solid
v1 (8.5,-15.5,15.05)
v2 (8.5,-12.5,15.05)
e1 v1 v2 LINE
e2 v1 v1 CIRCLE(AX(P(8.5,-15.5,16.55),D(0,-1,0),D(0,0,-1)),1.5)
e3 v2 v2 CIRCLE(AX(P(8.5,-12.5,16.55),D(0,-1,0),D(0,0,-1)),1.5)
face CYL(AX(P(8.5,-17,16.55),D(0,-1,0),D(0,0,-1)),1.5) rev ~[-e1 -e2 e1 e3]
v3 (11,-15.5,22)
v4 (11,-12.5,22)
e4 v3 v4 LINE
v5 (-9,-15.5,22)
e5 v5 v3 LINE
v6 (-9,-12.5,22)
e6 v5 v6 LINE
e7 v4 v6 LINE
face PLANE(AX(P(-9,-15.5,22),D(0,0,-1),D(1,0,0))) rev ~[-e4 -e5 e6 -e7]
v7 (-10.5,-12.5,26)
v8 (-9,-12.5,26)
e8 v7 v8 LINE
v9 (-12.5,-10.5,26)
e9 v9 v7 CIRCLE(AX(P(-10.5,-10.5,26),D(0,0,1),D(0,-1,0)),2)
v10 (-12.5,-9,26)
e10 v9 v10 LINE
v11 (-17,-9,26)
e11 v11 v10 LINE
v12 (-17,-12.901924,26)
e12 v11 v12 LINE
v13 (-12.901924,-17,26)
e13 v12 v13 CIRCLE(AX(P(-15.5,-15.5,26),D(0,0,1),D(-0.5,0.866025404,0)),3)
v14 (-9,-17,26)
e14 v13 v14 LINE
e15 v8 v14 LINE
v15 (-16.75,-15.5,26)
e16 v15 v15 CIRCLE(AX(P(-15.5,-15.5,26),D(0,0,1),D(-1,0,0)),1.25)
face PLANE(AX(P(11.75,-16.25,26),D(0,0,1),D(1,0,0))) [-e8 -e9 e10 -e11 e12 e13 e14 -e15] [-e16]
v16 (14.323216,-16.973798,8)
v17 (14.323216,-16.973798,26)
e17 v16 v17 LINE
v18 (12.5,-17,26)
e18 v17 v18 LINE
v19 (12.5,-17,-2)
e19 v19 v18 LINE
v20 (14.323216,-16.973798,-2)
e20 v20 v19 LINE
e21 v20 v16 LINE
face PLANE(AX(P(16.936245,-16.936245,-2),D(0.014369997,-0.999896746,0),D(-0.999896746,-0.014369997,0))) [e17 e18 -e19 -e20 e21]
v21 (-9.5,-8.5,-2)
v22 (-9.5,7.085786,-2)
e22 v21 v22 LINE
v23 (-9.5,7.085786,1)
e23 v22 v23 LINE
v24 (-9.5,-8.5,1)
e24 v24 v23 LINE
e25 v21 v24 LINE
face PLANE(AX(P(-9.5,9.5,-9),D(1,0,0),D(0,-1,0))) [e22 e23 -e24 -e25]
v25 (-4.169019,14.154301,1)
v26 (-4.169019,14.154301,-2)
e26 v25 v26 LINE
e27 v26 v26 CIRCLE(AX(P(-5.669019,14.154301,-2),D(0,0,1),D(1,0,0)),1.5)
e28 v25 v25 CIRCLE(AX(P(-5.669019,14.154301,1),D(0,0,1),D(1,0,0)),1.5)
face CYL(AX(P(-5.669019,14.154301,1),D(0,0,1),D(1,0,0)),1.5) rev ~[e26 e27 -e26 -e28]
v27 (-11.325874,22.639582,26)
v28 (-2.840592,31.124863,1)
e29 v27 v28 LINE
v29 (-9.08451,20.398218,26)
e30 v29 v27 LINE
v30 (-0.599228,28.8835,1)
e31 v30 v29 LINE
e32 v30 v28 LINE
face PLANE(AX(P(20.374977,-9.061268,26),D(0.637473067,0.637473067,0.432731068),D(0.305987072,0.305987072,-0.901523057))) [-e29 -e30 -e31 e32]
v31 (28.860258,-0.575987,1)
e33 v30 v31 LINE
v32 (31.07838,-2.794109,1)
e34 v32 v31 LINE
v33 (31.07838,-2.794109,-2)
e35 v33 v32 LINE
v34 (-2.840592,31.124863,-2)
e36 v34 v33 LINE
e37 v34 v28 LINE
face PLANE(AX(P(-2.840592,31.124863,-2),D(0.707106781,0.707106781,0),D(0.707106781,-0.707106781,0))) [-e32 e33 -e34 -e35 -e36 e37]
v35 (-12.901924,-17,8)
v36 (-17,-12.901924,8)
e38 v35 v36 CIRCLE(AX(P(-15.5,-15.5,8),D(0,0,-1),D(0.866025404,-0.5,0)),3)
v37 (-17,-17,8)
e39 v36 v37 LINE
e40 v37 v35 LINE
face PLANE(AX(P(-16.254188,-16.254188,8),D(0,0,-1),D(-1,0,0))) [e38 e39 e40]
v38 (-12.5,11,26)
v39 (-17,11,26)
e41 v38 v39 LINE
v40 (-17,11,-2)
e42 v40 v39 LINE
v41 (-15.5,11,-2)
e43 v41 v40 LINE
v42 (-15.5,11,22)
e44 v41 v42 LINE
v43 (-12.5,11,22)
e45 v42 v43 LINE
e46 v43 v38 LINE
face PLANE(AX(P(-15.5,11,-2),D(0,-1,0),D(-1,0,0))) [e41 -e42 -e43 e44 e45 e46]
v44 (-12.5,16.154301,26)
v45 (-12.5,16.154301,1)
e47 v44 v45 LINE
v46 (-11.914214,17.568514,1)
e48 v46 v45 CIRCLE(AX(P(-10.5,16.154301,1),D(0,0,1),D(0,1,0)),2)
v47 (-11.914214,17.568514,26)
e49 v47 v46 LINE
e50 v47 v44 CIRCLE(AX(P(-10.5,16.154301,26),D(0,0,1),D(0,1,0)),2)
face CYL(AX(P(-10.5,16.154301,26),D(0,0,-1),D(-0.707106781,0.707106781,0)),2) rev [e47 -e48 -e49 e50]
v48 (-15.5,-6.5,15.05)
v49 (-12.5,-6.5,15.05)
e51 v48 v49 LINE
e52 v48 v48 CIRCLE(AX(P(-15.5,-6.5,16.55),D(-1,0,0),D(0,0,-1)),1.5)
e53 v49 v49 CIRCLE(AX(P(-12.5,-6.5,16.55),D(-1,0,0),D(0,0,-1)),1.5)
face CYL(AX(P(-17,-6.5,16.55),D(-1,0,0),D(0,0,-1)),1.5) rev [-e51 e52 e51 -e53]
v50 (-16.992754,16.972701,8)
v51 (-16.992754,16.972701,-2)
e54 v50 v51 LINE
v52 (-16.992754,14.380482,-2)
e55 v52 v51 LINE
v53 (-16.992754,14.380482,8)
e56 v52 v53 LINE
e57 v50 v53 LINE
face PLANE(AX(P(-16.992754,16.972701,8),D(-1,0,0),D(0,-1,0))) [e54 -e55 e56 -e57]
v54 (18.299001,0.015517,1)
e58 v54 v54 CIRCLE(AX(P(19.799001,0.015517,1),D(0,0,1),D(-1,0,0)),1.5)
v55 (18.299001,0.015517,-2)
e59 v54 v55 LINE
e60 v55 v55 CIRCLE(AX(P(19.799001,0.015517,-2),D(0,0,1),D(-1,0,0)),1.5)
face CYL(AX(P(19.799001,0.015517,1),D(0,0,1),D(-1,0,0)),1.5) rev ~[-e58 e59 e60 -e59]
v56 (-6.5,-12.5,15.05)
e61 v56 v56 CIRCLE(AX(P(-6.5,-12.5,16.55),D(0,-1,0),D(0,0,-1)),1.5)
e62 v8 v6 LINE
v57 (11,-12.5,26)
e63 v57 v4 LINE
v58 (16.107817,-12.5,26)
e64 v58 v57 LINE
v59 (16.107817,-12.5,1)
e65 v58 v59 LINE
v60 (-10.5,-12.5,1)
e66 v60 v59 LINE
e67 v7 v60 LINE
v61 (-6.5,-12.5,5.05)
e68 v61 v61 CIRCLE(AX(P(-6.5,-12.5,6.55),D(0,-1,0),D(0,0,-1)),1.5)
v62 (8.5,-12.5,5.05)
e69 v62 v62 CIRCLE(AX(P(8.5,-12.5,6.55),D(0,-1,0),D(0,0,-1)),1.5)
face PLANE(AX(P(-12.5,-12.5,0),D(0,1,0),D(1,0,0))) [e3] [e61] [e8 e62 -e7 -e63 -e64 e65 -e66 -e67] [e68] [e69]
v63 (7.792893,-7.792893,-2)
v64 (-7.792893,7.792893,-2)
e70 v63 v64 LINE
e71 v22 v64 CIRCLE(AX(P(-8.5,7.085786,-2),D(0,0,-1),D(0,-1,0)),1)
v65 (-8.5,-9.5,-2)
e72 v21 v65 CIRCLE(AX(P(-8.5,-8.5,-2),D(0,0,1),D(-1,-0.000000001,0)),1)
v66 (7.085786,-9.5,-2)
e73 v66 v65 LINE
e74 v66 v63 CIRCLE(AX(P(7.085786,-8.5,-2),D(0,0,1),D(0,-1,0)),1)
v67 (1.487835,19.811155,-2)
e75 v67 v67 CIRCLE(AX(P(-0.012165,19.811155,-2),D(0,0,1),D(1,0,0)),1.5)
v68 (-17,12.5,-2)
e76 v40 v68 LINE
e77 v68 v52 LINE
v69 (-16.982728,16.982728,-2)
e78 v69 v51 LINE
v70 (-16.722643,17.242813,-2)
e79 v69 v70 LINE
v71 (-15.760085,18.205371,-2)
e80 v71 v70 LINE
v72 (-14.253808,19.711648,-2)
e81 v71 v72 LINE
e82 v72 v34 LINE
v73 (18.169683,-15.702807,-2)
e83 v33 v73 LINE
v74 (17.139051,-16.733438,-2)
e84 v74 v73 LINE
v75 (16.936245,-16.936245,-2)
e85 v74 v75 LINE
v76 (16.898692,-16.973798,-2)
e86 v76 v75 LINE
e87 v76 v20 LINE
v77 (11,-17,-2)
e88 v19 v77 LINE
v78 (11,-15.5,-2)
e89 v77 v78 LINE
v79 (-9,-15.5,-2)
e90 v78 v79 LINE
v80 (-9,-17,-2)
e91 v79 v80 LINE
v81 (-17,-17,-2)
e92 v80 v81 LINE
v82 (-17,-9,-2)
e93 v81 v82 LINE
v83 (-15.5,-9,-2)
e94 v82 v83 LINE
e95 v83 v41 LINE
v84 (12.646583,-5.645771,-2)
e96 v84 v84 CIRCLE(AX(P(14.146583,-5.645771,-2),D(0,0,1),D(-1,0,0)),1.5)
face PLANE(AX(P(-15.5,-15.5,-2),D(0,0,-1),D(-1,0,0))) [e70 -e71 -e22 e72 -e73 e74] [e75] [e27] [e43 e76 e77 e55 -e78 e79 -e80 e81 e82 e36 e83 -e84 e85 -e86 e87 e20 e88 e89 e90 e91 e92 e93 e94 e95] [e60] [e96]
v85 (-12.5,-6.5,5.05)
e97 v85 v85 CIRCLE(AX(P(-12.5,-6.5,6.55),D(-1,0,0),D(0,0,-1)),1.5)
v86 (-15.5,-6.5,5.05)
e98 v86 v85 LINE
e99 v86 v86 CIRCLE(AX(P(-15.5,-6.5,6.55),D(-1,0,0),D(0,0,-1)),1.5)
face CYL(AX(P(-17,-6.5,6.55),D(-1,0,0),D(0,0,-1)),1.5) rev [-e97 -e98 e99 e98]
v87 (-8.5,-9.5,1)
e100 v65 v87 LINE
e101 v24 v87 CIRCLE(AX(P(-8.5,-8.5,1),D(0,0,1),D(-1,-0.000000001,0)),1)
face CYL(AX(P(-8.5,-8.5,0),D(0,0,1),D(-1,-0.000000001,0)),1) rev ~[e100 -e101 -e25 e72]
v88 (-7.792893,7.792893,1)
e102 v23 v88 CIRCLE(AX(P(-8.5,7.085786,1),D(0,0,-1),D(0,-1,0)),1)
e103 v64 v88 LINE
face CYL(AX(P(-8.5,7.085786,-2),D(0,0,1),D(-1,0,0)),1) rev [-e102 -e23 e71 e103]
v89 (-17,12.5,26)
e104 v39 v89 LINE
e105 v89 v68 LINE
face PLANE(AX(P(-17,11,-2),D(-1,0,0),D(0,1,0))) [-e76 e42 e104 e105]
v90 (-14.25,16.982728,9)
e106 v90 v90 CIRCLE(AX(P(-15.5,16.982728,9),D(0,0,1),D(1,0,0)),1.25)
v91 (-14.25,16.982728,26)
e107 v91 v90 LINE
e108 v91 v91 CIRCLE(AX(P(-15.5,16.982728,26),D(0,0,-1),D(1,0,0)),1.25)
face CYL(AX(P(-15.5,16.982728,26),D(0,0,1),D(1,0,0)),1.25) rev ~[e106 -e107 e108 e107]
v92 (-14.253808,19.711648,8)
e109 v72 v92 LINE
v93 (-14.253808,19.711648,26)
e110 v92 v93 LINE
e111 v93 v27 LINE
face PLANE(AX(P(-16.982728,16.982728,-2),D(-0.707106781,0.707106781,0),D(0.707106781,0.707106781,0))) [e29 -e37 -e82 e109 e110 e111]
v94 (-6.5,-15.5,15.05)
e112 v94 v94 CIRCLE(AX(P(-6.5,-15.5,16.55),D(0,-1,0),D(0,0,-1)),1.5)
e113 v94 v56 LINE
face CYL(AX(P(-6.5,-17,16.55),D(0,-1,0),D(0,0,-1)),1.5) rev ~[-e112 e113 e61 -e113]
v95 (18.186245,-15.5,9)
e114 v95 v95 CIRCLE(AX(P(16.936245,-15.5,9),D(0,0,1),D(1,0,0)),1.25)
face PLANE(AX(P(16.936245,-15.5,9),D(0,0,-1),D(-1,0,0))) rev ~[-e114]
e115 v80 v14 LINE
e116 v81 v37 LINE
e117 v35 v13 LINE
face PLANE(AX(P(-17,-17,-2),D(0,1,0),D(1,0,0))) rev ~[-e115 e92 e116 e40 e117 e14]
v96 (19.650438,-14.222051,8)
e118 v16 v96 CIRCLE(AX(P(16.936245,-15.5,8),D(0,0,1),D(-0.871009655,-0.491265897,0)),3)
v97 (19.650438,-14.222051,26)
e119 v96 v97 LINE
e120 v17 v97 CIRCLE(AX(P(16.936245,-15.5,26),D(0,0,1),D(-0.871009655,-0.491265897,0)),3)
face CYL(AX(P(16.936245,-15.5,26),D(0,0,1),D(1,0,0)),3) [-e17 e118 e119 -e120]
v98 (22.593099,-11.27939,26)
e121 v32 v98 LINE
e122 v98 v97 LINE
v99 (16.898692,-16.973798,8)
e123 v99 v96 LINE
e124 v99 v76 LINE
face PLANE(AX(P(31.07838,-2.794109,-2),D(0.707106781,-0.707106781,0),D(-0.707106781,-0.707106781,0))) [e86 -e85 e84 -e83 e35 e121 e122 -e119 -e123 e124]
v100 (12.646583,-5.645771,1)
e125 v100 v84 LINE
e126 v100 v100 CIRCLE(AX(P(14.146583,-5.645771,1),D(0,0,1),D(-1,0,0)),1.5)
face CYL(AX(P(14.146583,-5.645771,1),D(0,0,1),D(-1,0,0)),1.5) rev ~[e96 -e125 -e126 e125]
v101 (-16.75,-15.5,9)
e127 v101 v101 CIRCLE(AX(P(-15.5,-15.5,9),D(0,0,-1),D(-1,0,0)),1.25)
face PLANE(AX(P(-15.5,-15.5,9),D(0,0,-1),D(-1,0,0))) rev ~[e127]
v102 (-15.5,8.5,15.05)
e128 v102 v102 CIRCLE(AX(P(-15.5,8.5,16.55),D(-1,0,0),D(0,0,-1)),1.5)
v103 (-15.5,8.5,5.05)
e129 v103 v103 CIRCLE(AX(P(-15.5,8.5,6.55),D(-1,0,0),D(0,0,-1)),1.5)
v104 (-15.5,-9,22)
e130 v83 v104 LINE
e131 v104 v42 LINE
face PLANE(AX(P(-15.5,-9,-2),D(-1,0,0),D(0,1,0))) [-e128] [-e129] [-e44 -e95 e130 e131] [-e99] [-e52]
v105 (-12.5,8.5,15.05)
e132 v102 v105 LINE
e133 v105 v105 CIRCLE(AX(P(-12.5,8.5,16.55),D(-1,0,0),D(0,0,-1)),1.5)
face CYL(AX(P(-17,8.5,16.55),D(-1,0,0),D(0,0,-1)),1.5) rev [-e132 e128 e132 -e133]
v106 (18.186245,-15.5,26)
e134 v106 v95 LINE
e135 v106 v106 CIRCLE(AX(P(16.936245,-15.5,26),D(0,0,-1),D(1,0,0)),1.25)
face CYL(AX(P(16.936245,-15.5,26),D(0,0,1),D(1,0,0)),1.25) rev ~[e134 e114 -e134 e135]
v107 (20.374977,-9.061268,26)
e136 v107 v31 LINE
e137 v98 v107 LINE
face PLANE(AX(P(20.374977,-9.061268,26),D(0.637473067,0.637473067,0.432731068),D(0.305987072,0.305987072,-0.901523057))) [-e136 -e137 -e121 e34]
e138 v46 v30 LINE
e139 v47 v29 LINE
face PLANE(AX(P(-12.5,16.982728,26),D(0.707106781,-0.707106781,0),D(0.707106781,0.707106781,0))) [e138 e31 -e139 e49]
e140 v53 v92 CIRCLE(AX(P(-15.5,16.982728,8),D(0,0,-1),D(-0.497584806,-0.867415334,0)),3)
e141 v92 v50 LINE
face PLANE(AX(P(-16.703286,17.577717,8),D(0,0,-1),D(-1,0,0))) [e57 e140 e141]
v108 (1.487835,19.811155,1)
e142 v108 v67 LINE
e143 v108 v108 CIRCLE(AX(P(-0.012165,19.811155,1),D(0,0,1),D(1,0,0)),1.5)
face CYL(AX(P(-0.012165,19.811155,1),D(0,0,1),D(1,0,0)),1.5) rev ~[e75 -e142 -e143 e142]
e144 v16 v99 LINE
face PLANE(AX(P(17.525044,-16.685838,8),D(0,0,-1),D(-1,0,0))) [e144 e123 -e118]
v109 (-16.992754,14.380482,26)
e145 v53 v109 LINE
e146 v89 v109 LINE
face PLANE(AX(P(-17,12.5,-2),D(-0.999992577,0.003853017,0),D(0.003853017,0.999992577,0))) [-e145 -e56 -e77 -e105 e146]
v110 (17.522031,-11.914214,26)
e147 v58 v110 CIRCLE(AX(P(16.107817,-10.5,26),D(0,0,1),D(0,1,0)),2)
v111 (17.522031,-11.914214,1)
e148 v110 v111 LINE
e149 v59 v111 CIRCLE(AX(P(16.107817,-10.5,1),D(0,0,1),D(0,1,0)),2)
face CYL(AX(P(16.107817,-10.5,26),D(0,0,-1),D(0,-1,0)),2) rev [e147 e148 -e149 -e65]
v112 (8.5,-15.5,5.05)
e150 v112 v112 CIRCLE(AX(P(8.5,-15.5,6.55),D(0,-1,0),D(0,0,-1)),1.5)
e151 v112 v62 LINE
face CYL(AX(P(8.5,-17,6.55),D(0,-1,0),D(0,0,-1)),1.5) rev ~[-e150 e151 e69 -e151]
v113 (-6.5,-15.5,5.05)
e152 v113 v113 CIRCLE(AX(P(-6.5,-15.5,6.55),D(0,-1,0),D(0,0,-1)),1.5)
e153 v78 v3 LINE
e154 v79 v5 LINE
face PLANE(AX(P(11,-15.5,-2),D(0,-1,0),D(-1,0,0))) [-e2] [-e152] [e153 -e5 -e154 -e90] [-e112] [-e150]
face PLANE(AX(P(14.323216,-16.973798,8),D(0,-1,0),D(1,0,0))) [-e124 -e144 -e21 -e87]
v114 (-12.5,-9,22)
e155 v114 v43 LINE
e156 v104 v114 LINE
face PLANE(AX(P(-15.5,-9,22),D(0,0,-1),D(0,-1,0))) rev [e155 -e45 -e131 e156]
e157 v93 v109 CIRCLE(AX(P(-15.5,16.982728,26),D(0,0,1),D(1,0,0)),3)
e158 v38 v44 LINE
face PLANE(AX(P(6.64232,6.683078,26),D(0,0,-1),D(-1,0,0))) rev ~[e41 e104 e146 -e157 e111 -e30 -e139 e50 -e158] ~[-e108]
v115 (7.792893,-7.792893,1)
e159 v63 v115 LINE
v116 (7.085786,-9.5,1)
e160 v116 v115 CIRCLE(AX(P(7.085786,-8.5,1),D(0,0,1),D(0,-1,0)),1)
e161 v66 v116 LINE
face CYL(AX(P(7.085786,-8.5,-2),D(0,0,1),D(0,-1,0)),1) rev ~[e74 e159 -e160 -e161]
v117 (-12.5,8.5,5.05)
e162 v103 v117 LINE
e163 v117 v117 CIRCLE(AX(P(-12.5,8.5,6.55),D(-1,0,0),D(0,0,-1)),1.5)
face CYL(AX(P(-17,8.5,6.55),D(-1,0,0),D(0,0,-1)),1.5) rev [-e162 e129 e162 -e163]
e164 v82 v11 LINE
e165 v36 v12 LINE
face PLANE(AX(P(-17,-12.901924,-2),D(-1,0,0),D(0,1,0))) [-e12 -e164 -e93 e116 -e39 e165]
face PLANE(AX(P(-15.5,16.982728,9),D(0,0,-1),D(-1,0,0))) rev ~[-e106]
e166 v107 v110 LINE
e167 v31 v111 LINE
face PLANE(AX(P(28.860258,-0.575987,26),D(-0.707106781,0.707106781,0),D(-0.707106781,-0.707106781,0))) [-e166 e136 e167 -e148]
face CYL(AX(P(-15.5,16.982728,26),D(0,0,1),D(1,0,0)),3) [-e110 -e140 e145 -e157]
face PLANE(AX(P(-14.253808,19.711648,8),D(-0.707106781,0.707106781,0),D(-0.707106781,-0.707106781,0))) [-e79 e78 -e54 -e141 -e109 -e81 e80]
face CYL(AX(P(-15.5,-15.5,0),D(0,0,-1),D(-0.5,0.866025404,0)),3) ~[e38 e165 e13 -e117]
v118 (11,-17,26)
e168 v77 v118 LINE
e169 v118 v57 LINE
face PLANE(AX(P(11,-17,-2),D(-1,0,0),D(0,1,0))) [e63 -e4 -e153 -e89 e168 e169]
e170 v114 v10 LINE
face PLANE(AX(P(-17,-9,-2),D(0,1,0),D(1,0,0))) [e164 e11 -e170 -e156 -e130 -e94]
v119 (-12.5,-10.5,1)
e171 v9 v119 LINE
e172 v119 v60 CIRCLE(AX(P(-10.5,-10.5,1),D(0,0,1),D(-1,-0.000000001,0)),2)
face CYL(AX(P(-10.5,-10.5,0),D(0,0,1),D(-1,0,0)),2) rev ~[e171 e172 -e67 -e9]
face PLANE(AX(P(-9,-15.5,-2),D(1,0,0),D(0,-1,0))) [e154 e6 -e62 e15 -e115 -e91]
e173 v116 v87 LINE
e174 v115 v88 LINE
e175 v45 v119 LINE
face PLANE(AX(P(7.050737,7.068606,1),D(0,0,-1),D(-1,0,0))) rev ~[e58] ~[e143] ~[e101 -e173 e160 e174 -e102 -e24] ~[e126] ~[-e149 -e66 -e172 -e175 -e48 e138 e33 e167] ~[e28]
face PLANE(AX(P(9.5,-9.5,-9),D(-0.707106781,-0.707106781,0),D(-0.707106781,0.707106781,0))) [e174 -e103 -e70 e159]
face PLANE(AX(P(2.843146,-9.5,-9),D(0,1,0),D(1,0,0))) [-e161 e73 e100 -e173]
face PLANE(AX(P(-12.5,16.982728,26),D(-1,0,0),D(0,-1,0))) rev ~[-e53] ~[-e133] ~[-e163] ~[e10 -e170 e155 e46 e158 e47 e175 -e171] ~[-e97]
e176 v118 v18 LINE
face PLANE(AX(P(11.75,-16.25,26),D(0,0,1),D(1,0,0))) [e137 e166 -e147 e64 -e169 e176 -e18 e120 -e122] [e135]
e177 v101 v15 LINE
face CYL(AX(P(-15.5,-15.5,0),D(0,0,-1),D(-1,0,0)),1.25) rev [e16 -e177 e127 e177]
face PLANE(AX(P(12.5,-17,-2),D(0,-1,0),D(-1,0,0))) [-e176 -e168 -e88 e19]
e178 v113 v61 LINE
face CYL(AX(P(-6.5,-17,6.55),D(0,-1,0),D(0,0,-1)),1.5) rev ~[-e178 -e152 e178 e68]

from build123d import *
from build123d.topology import SkipClean

# Parameters (mm, degrees)
SKETCH_1_R                = 1.5
SKETCH_1_R_2              = 1.25
SKETCH_1_W                = 25
SKETCH_1_H                = 25
EXTRUDE_1_DEPTH           = 26
FILLET_1_R                = 3
FILLET_3_R                = 1
SKETCH_3_W                = 1.5
SKETCH_3_H                = 1.5
CUT_EXTRUDE_2_DEPTH       = 37.884956283
SKETCH_4_W                = 1.5
SKETCH_4_H                = 1.5
EXTRUDE_2_DEPTH           = 26
CUT_EXTRUDE_3_DEPTH       = 37.884956283
FILLET_4_R                = 3
SKETCH_9_R                = 1.5
CUT_EXTRUDE_6_DEPTH       = 10
SKETCH_10_R               = 3
CUT_EXTRUDE_7_DEPTH       = 10
CUT_EXTRUDE_9_DEPTH       = 37.884956283
SKETCH_13_W               = 4.17784283
SKETCH_13_H               = 6.481383992
SKETCH_13_W_2             = 7.357798492
SKETCH_13_H_2             = 3.821610345
CUT_EXTRUDE_10_DEPTH      = 37.884956283
FILLET_6_R                = 2
EXTRUDE_START             = -22
EXTRUDE_5_DEPTH           = 4
EXTRUDE_START_2           = 2
EXTRUDE_6_DEPTH           = 2
CUT_EXTRUDE_12_DEPTH      = 3
SKETCH_21_R               = 1.5
CUT_EXTRUDE_13_DEPTH      = 37.884956283
EXTRUDE_7_DEPTH           = 28
CUT_EXTRUDE_14_DEPTH      = 25
SKETCH_24_R               = 3
EXTRUDE_8_DEPTH           = 28
SKETCH_25_R               = 1.25
CUT_EXTRUDE_16_DEPTH      = 53.140414679
CUT_EXTRUDE_17_DEPTH      = 50
SKETCH_27_W               = 20
SKETCH_27_H               = 4
CUT_EXTRUDE_18_DEPTH      = 5
SKETCH_28_R               = 1.5
CUT_EXTRUDE_19_DEPTH      = 51.592715315
SKETCH_29_R               = 1.5
EXTRUDE_9_DEPTH           = 11
CUT_EXTRUDE_START         = -10
CUT_EXTRUDE_21_DEPTH      = 10
EXTRUDE_START_3           = -11
SKETCH_31_R               = 1.5
EXTRUDE_10_DEPTH          = 11
CUT_EXTRUDE_22_DEPTH      = 10
FILLET_9_R                = 2
CUT_EXTRUDE_25_DEPTH      = 51.592715315
CUT_EXTRUDE_25_DEPTH_BACK = 10
FILLET_10_R               = 1


with BuildPart() as part:
    # 草图1 → 凸台-拉伸1 (new body)
    with BuildSketch(Plane.XY):
        with BuildLine():
            Line((-7.5, -17), (-7.5, -15.5))
            Line((-7.5, -15.5), (12.5, -15.5))
            Line((12.5, -15.5), (12.5, -18.5))
            ThreePointArc((12.5, -18.5), (14.621320344, -17.621320344), (15.5, -15.5))
            Line((15.5, -15.5), (15.5, -3))
            ThreePointArc((15.5, -3), (18.5, 0), (15.5, 3))
            Line((15.5, 3), (15.5, 12.5))
            Line((15.5, 12.5), (15.5, 15.5))
            Line((15.5, 15.5), (12.5, 15.5))
            Line((12.5, 15.5), (3, 15.5))
            ThreePointArc((3, 15.5), (0, 18.5), (-3, 15.5))
            Line((-3, 15.5), (-15.5, 15.5))
            ThreePointArc((-15.5, 15.5), (-17.621320344, 14.621320344), (-18.5, 12.5))
            Line((-18.5, 12.5), (-15.5, 12.5))
            Line((-15.5, 12.5), (-15.5, -7.5))
            Line((-15.5, -7.5), (-17, -7.5))
            Line((-17, -7.5), (-17, -12.901923789))
            ThreePointArc((-17, -12.901923789), (-17.621320344, -17.621320344), (-12.901923789, -17))
            Line((-12.901923789, -17), (-7.5, -17))
        make_face()
        with Locations(Location((0, 15.5, 0), (0, 0, 180))):
            Circle(SKETCH_1_R, mode=Mode.SUBTRACT)
        with Locations(Location((15.5, 0, 0), (0, 0, 180))):
            Circle(SKETCH_1_R, mode=Mode.SUBTRACT)
        with Locations(Location((-15.5, -15.5, 0), (0, 0, 180))):
            Circle(SKETCH_1_R_2, mode=Mode.SUBTRACT)
        Rectangle(SKETCH_1_W, SKETCH_1_H, mode=Mode.SUBTRACT)
    extrude(amount=EXTRUDE_1_DEPTH)

    # 圆角1
    fillet_1_edges = [part.edges().sort_by_distance(p)[0] for p in [
        (15.5, 15.5, 13),
    ]]
    fillet(fillet_1_edges, radius=FILLET_1_R)

    # 圆角3
    fillet_3_edges = [part.edges().sort_by_distance(p)[0] for p in [
        (-7.5, -17, 13),
        (-17, -7.5, 13),
    ]]
    fillet(fillet_3_edges, radius=FILLET_3_R)

    # 草图3 → 切除-拉伸2 (cut, through all)
    with BuildSketch(Plane.XY.offset(26)):
        with Locations((-16.25, -8.25)):
            Rectangle(SKETCH_3_W, SKETCH_3_H)
        with Locations((-8.25, -16.25)):
            Rectangle(SKETCH_3_W, SKETCH_3_H)
    extrude(amount=-CUT_EXTRUDE_2_DEPTH, mode=Mode.SUBTRACT)

    # 草图4 → 凸台-拉伸2 (add)
    with BuildSketch(Plane.XY.offset(26)):
        with Locations((11.75, -16.25)):
            Rectangle(SKETCH_4_W, SKETCH_4_H)
        with Locations((-16.25, 11.75)):
            Rectangle(SKETCH_4_W, SKETCH_4_H)
    extrude(amount=-EXTRUDE_2_DEPTH)

    # 草图5 → 切除-拉伸3 (cut, through all)
    with BuildSketch(Plane.XY.offset(26)):
        with BuildLine():
            Line((-15.5, 15.5), (-18.126967889, 17.505423237))
            Line((-18.126967889, 17.505423237), (-21.288898959, 12.813385992))
            Line((-21.288898959, 12.813385992), (-20.091395342, 10.786398282))
            Line((-20.091395342, 10.786398282), (-17, 12.5))
            ThreePointArc((-17, 12.5), (-16.57963241, 14.164816205), (-15.5, 15.5))
        make_face()
        with BuildLine():
            Line((15.5, -15.5), (16.572032303, -16.222435068))
            Line((16.572032303, -16.222435068), (15.5, -18.155539341))
            Line((15.5, -18.155539341), (15.357517018, -18.412466729))
            Line((15.357517018, -18.412466729), (13.84319433, -19.423604832))
            Line((13.84319433, -19.423604832), (11.91983412, -18.918035781))
            Line((11.91983412, -18.918035781), (12.5, -17))
            ThreePointArc((12.5, -17), (14.164816205, -16.57963241), (15.5, -15.5))
        make_face()
    extrude(amount=-CUT_EXTRUDE_3_DEPTH, mode=Mode.SUBTRACT)

    # 圆角4
    fillet_4_edges = [part.edges().sort_by_distance(p)[0] for p in [
        (15.5, -15.5, 13),
        (-15.5, 15.5, 13),
    ]]
    fillet(fillet_4_edges, radius=FILLET_4_R)

    # 草图9 → 切除-拉伸6 (cut)
    with BuildSketch(Plane.XZ.offset(17)):
        with Locations(Location((8.5, 16.55, 0), (0, 0, 270))):
            Circle(SKETCH_9_R)
        with Locations(Location((8.5, 6.55, 0), (0, 0, 270))):
            Circle(SKETCH_9_R)
        with Locations(Location((-6.5, 6.55, 0), (0, 0, 270))):
            Circle(SKETCH_9_R)
        with Locations(Location((-6.5, 16.55, 0), (0, 0, 270))):
            Circle(SKETCH_9_R)
    cut_extrude_6 = extrude(amount=-CUT_EXTRUDE_6_DEPTH, mode=Mode.SUBTRACT)

    # 镜向3: 切除-拉伸6 across plane
    add(cut_extrude_6.mirror(Plane(origin=(0, 0, 0), x_dir=(0, 0, 1), z_dir=(0.7071067811865474, -0.7071067811865477, 0))), mode=Mode.SUBTRACT)

    # 草图10 → 切除-拉伸7 (cut)
    with BuildSketch(Plane.XZ.offset(-12.5)):
        with Locations(Location((-6.5, 16.55, 0), (0, 0, 270))):
            Circle(SKETCH_10_R)
        with Locations(Location((8.5, 16.55, 0), (0, 0, 270))):
            Circle(SKETCH_10_R)
        with Locations(Location((-6.5, 6.55, 0), (0, 0, 270))):
            Circle(SKETCH_10_R)
        with Locations(Location((8.5, 6.55, 0), (0, 0, 270))):
            Circle(SKETCH_10_R)
    cut_extrude_7 = extrude(amount=-CUT_EXTRUDE_7_DEPTH, mode=Mode.SUBTRACT)

    # 镜向4: 切除-拉伸7 across plane
    add(cut_extrude_7.mirror(Plane(origin=(0, 0, 0), x_dir=(0, 0, 1), z_dir=(0.7071067811865474, -0.7071067811865477, 0))), mode=Mode.SUBTRACT)

    # 草图11 → 切除-拉伸9 (cut, through all)
    with BuildSketch(Plane(origin=(0, 0, 0), x_dir=(-1, 0, 0), z_dir=(0, 0, -1))):
        Polygon((13.994201093, 15.5), (-15.5, -13.994201093), (-22.603324572, 9.550961025), (-15.881167108, 22.081431115), (-1.791633811, 22.883450419), align=None)
    extrude(amount=-CUT_EXTRUDE_9_DEPTH, mode=Mode.SUBTRACT)

    # 草图13 → 切除-拉伸10 (cut, through all)
    with BuildSketch(Plane(origin=(0, 0, 0), x_dir=(-1, 0, 0), z_dir=(0, 0, -1))):
        with Locations((-14.588921415, -14.234893089)):
            Rectangle(SKETCH_13_W, SKETCH_13_H)
        with Locations((14.673100339, 14.410805172)):
            Rectangle(SKETCH_13_W_2, SKETCH_13_H_2)
    extrude(amount=-CUT_EXTRUDE_10_DEPTH, mode=Mode.SUBTRACT)

    # 圆角6
    fillet_6_edges = [part.edges().sort_by_distance(p)[0] for p in [
        (-12.5, -12.5, 13),
    ]]
    fillet(fillet_6_edges, radius=FILLET_6_R)

    # 草图18 → 凸台-拉伸5 (add)
    with BuildSketch(Plane.XY.offset(26).offset(EXTRUDE_START)):
        Polygon((-12.5, 12.5), (12.5, -12.5), (-12.5, -12.5), align=None)
        with BuildLine():
            Line((-9.5, -8.5), (-9.5, 2.843145751))
            ThreePointArc((-9.5, 2.843145751), (-8.882683432, 3.767025283), (-7.792893219, 3.550252532))
            Line((-7.792893219, 3.550252532), (3.550252532, -7.792893219))
            ThreePointArc((3.550252532, -7.792893219), (3.767025283, -8.882683432), (2.843145751, -9.5))
            Line((2.843145751, -9.5), (-8.5, -9.5))
            ThreePointArc((-8.5, -9.5), (-9.207106781, -9.207106781), (-9.5, -8.5))
        make_face(mode=Mode.SUBTRACT)
    extrude(amount=-EXTRUDE_5_DEPTH)

    # 草图19 → 凸台-拉伸6 (add)
    with SkipClean():  # the faces are left unmerged after this step: merging them gives an invalid solid
        with BuildSketch(Plane(origin=(0, 0, 0), x_dir=(-1, 0, 0), z_dir=(0, 0, -1)).offset(EXTRUDE_START_2)):
            with BuildLine():
                Line((17, 12.5), (12.5, 12.5))
                Line((12.5, 12.5), (-12.5, -12.5))
                Line((-12.5, -12.5), (-12.5, -17))
                Line((-12.5, -17), (-11, -17))
                Line((-11, -17), (-11, -15.5))
                Line((-11, -15.5), (9, -15.5))
                Line((9, -15.5), (9, -17))
                Line((9, -17), (12.901923789, -17))
                ThreePointArc((12.901923789, -17), (17.621320344, -17.621320344), (17, -12.901923789))
                Line((17, -12.901923789), (17, -9))
                Line((17, -9), (15.5, -9))
                Line((15.5, -9), (15.5, 11))
                Line((15.5, 11), (17, 11))
                Line((17, 11), (17, 12.5))
            make_face()
        extrude(amount=-EXTRUDE_6_DEPTH)

    # 草图20 → 切除-拉伸12 (cut)
    with SkipClean():  # the faces are left unmerged after this step: merging them gives an invalid solid
        with BuildSketch(Plane.XY.offset(4)):
            with BuildLine():
                Line((-10.5, -12.5), (12.5, -12.5))
                Line((12.5, -12.5), (-12.5, 12.5))
                Line((-12.5, 12.5), (-12.5, -10.5))
                ThreePointArc((-12.5, -10.5), (-11.914213562, -11.914213562), (-10.5, -12.5))
            make_face()
            with BuildLine():
                Line((-8.5, -9.5), (2.843145751, -9.5))
                ThreePointArc((2.843145751, -9.5), (3.767025283, -8.882683432), (3.550252532, -7.792893219))
                Line((3.550252532, -7.792893219), (-7.792893219, 3.550252532))
                ThreePointArc((-7.792893219, 3.550252532), (-8.882683432, 3.767025283), (-9.5, 2.843145751))
                Line((-9.5, 2.843145751), (-9.5, -8.5))
                ThreePointArc((-9.5, -8.5), (-9.207106781, -9.207106781), (-8.5, -9.5))
            make_face(mode=Mode.SUBTRACT)
        extrude(amount=-CUT_EXTRUDE_12_DEPTH, mode=Mode.SUBTRACT)

    # 草图21 → 切除-拉伸13 (cut, through all)
    with SkipClean():  # the faces are left unmerged after this step: merging them gives an invalid solid
        with BuildSketch(Plane.XY):
            with Locations((-15.5, -15.5)):
                Circle(SKETCH_21_R)
            with BuildLine():
                Line((-8.5, -9.5), (2.843145751, -9.5))
                ThreePointArc((2.843145751, -9.5), (3.767025283, -8.882683432), (3.550252532, -7.792893219))
                Line((3.550252532, -7.792893219), (-7.792893219, 3.550252532))
                ThreePointArc((-7.792893219, 3.550252532), (-8.882683432, 3.767025283), (-9.5, 2.843145751))
                Line((-9.5, 2.843145751), (-9.5, -8.5))
                ThreePointArc((-9.5, -8.5), (-9.207106781, -9.207106781), (-8.5, -9.5))
            make_face()
        extrude(amount=-CUT_EXTRUDE_13_DEPTH, mode=Mode.SUBTRACT)

    # 草图22 → 凸台-拉伸7 (add)
    with SkipClean():  # the faces are left unmerged after this step: merging them gives an invalid solid
        with BuildSketch(Plane(origin=(0, 0, -2), x_dir=(-1, 0, 0), z_dir=(0, 0, -1))):
            Polygon((12.5, 12.5), (17, 12.5), (16.982727844, 16.982727844), (2.84059222, 31.124863468), (-31.07838022, -2.794108972), (-16.936244596, -16.936244596), (-12.5, -17), (-12.5, -12.5), align=None)
        extrude(amount=-EXTRUDE_7_DEPTH)

    # 草图23 → 切除-拉伸14 (cut)
    with SkipClean():  # the faces are left unmerged after this step: merging them gives an invalid solid
        with BuildSketch(Plane.XY.offset(26)):
            Polygon((-12.5, 12.5), (-12.5, 16.982727844), (-0.599228298, 28.883499546), (28.860257922, -0.575986674), (16.936244596, -12.5), (12.5, -12.5), (11.087450154, -12.5), (-12.5, 11.087450154), align=None)
        extrude(amount=-CUT_EXTRUDE_14_DEPTH, mode=Mode.SUBTRACT)

    # 草图24 → 凸台-拉伸8 (add)
    with SkipClean():  # the faces are left unmerged after this step: merging them gives an invalid solid
        with BuildSketch(Plane.XY.offset(26)):
            with Locations((16.936244596, -15.5)):
                Circle(SKETCH_24_R)
            with Locations((-15.5, 16.982727844)):
                Circle(SKETCH_24_R)
        extrude(amount=-EXTRUDE_8_DEPTH)

    # 草图25 → 切除-拉伸16 (cut, through all)
    with SkipClean():  # the faces are left unmerged after this step: merging them gives an invalid solid
        with BuildSketch(Plane.XY.offset(26)):
            with Locations((16.936244596, -15.5)):
                Circle(SKETCH_25_R)
            with Locations((-15.5, 16.982727844)):
                Circle(SKETCH_25_R)
        extrude(amount=-CUT_EXTRUDE_16_DEPTH, mode=Mode.SUBTRACT)

    # 草图26 → 切除-拉伸17 (cut, symmetric)
    with SkipClean():  # the faces are left unmerged after this step: merging them gives an invalid solid
        with BuildSketch(Plane(origin=(14.718122298, -14.718122298, 0), x_dir=(0, 0, 1), z_dir=(-0.7071067811865477, 0.7071067811865474, 0))):
            Polygon((1, 20), (26, 20), (26, 8), align=None)
        extrude(amount=CUT_EXTRUDE_17_DEPTH, both=True, mode=Mode.SUBTRACT)

    # 草图27 → 切除-拉伸18 (cut)
    with SkipClean():  # the faces are left unmerged after this step: merging them gives an invalid solid
        with BuildSketch(Plane.XZ.offset(15.5)):
            with Locations((1, 24)):
                Rectangle(SKETCH_27_W, SKETCH_27_H)
        cut_extrude_18 = extrude(amount=-CUT_EXTRUDE_18_DEPTH, mode=Mode.SUBTRACT)

    # 镜向5: 切除-拉伸18 across plane
    with SkipClean():  # the faces are left unmerged after this step: merging them gives an invalid solid
        add(cut_extrude_18.mirror(Plane(origin=(0, 0, 0), x_dir=(0, 0, 1), z_dir=(0.7071067811865477, -0.7071067811865474, 0))), mode=Mode.SUBTRACT)

    # 草图28 → 切除-拉伸19 (cut, through all)
    with SkipClean():  # the faces are left unmerged after this step: merging them gives an invalid solid
        with BuildSketch(Plane.XY.offset(1)):
            with Locations((-0.012165095, 19.811154969)):
                Circle(SKETCH_28_R)
            with Locations((-5.669019345, 14.154300719)):
                Circle(SKETCH_28_R)
            with Locations(Location((19.79900051, 0.015516694, 0), (0, 0, 180))):
                Circle(SKETCH_28_R)
            with Locations(Location((14.14658339, -5.645771208, 0), (0, 0, 180))):
                Circle(SKETCH_28_R)
        extrude(amount=-CUT_EXTRUDE_19_DEPTH, mode=Mode.SUBTRACT)

    # 草图29 → 凸台-拉伸9 (add)
    with SkipClean():  # the faces are left unmerged after this step: merging them gives an invalid solid
        with BuildSketch(Plane(origin=(0, 0, -2), x_dir=(-1, 0, 0), z_dir=(0, 0, -1))):
            with Locations((15.5, 16.982727844)):
                Circle(SKETCH_29_R)
            with Locations((-16.936244596, -15.5)):
                Circle(SKETCH_29_R)
        extrude(amount=-EXTRUDE_9_DEPTH)

    # 草图30 → 切除-拉伸21 (cut)
    with SkipClean():  # the faces are left unmerged after this step: merging them gives an invalid solid
        with BuildSketch(Plane(origin=(0, 0, -2), x_dir=(-1, 0, 0), z_dir=(0, 0, -1)).offset(CUT_EXTRUDE_START)):
            with BuildLine():
                Line((14.25380775, 19.711647937), (16.992754417, 16.972701271))
                Line((16.992754417, 16.972701271), (16.992754417, 14.380481843))
                ThreePointArc((16.992754417, 14.380481843), (18.16843235, 18.353665039), (14.25380775, 19.711647937))
            make_face()
            with BuildLine():
                Line((-14.323215632, -16.973797691), (-16.8986915, -16.973797691))
                Line((-16.8986915, -16.973797691), (-19.650438126, -14.222051065))
                ThreePointArc((-19.650438126, -14.222051065), (-18.313047393, -18.165410674), (-14.323215632, -16.973797691))
            make_face()
        extrude(amount=CUT_EXTRUDE_21_DEPTH, mode=Mode.SUBTRACT)

    # 草图31 → 凸台-拉伸10 (add)
    with SkipClean():  # the faces are left unmerged after this step: merging them gives an invalid solid
        with BuildSketch(Plane(origin=(0, 0, -2), x_dir=(-1, 0, 0), z_dir=(0, 0, -1)).offset(EXTRUDE_START_3)):
            with Locations((15.5, -15.5)):
                Circle(SKETCH_31_R)
        extrude(amount=EXTRUDE_10_DEPTH)

    # 草图32 → 切除-拉伸22 (cut)
    with BuildSketch(Plane(origin=(0, 0, -2), x_dir=(-1, 0, 0), z_dir=(0, 0, -1))):
        with BuildLine():
            Line((17, -12.901923789), (17, -17))
            Line((17, -17), (12.901923789, -17))
            ThreePointArc((12.901923789, -17), (17.621320344, -17.621320344), (17, -12.901923789))
        make_face()
    extrude(amount=-CUT_EXTRUDE_22_DEPTH, mode=Mode.SUBTRACT)

    # 圆角9
    fillet_9_edges = [part.edges().sort_by_distance(p)[0] for p in [
        (-12.5, 16.982727844, 13.5),
        (16.936244596, -12.5, 13.5),
    ]]
    fillet(fillet_9_edges, radius=FILLET_9_R)

    # 草图35 → 切除-拉伸25 (cut, two sides: drawn at the far end of the back side and taken through both)
    with BuildSketch(Plane.XY.offset(1).offset(-CUT_EXTRUDE_25_DEPTH_BACK)):
        with BuildLine():
            Line((-9.5, 9.5), (-9.5, 2.843145751))
            ThreePointArc((-9.5, 2.843145751), (-8.882683432, 3.767025283), (-7.792893219, 3.550252532))
            Line((-7.792893219, 3.550252532), (3.550252532, -7.792893219))
            ThreePointArc((3.550252532, -7.792893219), (3.767025283, -8.882683432), (2.843145751, -9.5))
            Line((2.843145751, -9.5), (9.5, -9.5))
            Line((9.5, -9.5), (-9.5, 9.5))
        make_face()
    extrude(amount=CUT_EXTRUDE_25_DEPTH + CUT_EXTRUDE_25_DEPTH_BACK, mode=Mode.SUBTRACT)

    # 圆角10
    fillet_10_edges = [part.edges().sort_by_distance(p)[0] for p in [
        (9.5, -9.5, -0.5),
        (-9.5, 9.5, -0.5),
    ]]
    fillet(fillet_10_edges, radius=FILLET_10_R)


solid = part.part
